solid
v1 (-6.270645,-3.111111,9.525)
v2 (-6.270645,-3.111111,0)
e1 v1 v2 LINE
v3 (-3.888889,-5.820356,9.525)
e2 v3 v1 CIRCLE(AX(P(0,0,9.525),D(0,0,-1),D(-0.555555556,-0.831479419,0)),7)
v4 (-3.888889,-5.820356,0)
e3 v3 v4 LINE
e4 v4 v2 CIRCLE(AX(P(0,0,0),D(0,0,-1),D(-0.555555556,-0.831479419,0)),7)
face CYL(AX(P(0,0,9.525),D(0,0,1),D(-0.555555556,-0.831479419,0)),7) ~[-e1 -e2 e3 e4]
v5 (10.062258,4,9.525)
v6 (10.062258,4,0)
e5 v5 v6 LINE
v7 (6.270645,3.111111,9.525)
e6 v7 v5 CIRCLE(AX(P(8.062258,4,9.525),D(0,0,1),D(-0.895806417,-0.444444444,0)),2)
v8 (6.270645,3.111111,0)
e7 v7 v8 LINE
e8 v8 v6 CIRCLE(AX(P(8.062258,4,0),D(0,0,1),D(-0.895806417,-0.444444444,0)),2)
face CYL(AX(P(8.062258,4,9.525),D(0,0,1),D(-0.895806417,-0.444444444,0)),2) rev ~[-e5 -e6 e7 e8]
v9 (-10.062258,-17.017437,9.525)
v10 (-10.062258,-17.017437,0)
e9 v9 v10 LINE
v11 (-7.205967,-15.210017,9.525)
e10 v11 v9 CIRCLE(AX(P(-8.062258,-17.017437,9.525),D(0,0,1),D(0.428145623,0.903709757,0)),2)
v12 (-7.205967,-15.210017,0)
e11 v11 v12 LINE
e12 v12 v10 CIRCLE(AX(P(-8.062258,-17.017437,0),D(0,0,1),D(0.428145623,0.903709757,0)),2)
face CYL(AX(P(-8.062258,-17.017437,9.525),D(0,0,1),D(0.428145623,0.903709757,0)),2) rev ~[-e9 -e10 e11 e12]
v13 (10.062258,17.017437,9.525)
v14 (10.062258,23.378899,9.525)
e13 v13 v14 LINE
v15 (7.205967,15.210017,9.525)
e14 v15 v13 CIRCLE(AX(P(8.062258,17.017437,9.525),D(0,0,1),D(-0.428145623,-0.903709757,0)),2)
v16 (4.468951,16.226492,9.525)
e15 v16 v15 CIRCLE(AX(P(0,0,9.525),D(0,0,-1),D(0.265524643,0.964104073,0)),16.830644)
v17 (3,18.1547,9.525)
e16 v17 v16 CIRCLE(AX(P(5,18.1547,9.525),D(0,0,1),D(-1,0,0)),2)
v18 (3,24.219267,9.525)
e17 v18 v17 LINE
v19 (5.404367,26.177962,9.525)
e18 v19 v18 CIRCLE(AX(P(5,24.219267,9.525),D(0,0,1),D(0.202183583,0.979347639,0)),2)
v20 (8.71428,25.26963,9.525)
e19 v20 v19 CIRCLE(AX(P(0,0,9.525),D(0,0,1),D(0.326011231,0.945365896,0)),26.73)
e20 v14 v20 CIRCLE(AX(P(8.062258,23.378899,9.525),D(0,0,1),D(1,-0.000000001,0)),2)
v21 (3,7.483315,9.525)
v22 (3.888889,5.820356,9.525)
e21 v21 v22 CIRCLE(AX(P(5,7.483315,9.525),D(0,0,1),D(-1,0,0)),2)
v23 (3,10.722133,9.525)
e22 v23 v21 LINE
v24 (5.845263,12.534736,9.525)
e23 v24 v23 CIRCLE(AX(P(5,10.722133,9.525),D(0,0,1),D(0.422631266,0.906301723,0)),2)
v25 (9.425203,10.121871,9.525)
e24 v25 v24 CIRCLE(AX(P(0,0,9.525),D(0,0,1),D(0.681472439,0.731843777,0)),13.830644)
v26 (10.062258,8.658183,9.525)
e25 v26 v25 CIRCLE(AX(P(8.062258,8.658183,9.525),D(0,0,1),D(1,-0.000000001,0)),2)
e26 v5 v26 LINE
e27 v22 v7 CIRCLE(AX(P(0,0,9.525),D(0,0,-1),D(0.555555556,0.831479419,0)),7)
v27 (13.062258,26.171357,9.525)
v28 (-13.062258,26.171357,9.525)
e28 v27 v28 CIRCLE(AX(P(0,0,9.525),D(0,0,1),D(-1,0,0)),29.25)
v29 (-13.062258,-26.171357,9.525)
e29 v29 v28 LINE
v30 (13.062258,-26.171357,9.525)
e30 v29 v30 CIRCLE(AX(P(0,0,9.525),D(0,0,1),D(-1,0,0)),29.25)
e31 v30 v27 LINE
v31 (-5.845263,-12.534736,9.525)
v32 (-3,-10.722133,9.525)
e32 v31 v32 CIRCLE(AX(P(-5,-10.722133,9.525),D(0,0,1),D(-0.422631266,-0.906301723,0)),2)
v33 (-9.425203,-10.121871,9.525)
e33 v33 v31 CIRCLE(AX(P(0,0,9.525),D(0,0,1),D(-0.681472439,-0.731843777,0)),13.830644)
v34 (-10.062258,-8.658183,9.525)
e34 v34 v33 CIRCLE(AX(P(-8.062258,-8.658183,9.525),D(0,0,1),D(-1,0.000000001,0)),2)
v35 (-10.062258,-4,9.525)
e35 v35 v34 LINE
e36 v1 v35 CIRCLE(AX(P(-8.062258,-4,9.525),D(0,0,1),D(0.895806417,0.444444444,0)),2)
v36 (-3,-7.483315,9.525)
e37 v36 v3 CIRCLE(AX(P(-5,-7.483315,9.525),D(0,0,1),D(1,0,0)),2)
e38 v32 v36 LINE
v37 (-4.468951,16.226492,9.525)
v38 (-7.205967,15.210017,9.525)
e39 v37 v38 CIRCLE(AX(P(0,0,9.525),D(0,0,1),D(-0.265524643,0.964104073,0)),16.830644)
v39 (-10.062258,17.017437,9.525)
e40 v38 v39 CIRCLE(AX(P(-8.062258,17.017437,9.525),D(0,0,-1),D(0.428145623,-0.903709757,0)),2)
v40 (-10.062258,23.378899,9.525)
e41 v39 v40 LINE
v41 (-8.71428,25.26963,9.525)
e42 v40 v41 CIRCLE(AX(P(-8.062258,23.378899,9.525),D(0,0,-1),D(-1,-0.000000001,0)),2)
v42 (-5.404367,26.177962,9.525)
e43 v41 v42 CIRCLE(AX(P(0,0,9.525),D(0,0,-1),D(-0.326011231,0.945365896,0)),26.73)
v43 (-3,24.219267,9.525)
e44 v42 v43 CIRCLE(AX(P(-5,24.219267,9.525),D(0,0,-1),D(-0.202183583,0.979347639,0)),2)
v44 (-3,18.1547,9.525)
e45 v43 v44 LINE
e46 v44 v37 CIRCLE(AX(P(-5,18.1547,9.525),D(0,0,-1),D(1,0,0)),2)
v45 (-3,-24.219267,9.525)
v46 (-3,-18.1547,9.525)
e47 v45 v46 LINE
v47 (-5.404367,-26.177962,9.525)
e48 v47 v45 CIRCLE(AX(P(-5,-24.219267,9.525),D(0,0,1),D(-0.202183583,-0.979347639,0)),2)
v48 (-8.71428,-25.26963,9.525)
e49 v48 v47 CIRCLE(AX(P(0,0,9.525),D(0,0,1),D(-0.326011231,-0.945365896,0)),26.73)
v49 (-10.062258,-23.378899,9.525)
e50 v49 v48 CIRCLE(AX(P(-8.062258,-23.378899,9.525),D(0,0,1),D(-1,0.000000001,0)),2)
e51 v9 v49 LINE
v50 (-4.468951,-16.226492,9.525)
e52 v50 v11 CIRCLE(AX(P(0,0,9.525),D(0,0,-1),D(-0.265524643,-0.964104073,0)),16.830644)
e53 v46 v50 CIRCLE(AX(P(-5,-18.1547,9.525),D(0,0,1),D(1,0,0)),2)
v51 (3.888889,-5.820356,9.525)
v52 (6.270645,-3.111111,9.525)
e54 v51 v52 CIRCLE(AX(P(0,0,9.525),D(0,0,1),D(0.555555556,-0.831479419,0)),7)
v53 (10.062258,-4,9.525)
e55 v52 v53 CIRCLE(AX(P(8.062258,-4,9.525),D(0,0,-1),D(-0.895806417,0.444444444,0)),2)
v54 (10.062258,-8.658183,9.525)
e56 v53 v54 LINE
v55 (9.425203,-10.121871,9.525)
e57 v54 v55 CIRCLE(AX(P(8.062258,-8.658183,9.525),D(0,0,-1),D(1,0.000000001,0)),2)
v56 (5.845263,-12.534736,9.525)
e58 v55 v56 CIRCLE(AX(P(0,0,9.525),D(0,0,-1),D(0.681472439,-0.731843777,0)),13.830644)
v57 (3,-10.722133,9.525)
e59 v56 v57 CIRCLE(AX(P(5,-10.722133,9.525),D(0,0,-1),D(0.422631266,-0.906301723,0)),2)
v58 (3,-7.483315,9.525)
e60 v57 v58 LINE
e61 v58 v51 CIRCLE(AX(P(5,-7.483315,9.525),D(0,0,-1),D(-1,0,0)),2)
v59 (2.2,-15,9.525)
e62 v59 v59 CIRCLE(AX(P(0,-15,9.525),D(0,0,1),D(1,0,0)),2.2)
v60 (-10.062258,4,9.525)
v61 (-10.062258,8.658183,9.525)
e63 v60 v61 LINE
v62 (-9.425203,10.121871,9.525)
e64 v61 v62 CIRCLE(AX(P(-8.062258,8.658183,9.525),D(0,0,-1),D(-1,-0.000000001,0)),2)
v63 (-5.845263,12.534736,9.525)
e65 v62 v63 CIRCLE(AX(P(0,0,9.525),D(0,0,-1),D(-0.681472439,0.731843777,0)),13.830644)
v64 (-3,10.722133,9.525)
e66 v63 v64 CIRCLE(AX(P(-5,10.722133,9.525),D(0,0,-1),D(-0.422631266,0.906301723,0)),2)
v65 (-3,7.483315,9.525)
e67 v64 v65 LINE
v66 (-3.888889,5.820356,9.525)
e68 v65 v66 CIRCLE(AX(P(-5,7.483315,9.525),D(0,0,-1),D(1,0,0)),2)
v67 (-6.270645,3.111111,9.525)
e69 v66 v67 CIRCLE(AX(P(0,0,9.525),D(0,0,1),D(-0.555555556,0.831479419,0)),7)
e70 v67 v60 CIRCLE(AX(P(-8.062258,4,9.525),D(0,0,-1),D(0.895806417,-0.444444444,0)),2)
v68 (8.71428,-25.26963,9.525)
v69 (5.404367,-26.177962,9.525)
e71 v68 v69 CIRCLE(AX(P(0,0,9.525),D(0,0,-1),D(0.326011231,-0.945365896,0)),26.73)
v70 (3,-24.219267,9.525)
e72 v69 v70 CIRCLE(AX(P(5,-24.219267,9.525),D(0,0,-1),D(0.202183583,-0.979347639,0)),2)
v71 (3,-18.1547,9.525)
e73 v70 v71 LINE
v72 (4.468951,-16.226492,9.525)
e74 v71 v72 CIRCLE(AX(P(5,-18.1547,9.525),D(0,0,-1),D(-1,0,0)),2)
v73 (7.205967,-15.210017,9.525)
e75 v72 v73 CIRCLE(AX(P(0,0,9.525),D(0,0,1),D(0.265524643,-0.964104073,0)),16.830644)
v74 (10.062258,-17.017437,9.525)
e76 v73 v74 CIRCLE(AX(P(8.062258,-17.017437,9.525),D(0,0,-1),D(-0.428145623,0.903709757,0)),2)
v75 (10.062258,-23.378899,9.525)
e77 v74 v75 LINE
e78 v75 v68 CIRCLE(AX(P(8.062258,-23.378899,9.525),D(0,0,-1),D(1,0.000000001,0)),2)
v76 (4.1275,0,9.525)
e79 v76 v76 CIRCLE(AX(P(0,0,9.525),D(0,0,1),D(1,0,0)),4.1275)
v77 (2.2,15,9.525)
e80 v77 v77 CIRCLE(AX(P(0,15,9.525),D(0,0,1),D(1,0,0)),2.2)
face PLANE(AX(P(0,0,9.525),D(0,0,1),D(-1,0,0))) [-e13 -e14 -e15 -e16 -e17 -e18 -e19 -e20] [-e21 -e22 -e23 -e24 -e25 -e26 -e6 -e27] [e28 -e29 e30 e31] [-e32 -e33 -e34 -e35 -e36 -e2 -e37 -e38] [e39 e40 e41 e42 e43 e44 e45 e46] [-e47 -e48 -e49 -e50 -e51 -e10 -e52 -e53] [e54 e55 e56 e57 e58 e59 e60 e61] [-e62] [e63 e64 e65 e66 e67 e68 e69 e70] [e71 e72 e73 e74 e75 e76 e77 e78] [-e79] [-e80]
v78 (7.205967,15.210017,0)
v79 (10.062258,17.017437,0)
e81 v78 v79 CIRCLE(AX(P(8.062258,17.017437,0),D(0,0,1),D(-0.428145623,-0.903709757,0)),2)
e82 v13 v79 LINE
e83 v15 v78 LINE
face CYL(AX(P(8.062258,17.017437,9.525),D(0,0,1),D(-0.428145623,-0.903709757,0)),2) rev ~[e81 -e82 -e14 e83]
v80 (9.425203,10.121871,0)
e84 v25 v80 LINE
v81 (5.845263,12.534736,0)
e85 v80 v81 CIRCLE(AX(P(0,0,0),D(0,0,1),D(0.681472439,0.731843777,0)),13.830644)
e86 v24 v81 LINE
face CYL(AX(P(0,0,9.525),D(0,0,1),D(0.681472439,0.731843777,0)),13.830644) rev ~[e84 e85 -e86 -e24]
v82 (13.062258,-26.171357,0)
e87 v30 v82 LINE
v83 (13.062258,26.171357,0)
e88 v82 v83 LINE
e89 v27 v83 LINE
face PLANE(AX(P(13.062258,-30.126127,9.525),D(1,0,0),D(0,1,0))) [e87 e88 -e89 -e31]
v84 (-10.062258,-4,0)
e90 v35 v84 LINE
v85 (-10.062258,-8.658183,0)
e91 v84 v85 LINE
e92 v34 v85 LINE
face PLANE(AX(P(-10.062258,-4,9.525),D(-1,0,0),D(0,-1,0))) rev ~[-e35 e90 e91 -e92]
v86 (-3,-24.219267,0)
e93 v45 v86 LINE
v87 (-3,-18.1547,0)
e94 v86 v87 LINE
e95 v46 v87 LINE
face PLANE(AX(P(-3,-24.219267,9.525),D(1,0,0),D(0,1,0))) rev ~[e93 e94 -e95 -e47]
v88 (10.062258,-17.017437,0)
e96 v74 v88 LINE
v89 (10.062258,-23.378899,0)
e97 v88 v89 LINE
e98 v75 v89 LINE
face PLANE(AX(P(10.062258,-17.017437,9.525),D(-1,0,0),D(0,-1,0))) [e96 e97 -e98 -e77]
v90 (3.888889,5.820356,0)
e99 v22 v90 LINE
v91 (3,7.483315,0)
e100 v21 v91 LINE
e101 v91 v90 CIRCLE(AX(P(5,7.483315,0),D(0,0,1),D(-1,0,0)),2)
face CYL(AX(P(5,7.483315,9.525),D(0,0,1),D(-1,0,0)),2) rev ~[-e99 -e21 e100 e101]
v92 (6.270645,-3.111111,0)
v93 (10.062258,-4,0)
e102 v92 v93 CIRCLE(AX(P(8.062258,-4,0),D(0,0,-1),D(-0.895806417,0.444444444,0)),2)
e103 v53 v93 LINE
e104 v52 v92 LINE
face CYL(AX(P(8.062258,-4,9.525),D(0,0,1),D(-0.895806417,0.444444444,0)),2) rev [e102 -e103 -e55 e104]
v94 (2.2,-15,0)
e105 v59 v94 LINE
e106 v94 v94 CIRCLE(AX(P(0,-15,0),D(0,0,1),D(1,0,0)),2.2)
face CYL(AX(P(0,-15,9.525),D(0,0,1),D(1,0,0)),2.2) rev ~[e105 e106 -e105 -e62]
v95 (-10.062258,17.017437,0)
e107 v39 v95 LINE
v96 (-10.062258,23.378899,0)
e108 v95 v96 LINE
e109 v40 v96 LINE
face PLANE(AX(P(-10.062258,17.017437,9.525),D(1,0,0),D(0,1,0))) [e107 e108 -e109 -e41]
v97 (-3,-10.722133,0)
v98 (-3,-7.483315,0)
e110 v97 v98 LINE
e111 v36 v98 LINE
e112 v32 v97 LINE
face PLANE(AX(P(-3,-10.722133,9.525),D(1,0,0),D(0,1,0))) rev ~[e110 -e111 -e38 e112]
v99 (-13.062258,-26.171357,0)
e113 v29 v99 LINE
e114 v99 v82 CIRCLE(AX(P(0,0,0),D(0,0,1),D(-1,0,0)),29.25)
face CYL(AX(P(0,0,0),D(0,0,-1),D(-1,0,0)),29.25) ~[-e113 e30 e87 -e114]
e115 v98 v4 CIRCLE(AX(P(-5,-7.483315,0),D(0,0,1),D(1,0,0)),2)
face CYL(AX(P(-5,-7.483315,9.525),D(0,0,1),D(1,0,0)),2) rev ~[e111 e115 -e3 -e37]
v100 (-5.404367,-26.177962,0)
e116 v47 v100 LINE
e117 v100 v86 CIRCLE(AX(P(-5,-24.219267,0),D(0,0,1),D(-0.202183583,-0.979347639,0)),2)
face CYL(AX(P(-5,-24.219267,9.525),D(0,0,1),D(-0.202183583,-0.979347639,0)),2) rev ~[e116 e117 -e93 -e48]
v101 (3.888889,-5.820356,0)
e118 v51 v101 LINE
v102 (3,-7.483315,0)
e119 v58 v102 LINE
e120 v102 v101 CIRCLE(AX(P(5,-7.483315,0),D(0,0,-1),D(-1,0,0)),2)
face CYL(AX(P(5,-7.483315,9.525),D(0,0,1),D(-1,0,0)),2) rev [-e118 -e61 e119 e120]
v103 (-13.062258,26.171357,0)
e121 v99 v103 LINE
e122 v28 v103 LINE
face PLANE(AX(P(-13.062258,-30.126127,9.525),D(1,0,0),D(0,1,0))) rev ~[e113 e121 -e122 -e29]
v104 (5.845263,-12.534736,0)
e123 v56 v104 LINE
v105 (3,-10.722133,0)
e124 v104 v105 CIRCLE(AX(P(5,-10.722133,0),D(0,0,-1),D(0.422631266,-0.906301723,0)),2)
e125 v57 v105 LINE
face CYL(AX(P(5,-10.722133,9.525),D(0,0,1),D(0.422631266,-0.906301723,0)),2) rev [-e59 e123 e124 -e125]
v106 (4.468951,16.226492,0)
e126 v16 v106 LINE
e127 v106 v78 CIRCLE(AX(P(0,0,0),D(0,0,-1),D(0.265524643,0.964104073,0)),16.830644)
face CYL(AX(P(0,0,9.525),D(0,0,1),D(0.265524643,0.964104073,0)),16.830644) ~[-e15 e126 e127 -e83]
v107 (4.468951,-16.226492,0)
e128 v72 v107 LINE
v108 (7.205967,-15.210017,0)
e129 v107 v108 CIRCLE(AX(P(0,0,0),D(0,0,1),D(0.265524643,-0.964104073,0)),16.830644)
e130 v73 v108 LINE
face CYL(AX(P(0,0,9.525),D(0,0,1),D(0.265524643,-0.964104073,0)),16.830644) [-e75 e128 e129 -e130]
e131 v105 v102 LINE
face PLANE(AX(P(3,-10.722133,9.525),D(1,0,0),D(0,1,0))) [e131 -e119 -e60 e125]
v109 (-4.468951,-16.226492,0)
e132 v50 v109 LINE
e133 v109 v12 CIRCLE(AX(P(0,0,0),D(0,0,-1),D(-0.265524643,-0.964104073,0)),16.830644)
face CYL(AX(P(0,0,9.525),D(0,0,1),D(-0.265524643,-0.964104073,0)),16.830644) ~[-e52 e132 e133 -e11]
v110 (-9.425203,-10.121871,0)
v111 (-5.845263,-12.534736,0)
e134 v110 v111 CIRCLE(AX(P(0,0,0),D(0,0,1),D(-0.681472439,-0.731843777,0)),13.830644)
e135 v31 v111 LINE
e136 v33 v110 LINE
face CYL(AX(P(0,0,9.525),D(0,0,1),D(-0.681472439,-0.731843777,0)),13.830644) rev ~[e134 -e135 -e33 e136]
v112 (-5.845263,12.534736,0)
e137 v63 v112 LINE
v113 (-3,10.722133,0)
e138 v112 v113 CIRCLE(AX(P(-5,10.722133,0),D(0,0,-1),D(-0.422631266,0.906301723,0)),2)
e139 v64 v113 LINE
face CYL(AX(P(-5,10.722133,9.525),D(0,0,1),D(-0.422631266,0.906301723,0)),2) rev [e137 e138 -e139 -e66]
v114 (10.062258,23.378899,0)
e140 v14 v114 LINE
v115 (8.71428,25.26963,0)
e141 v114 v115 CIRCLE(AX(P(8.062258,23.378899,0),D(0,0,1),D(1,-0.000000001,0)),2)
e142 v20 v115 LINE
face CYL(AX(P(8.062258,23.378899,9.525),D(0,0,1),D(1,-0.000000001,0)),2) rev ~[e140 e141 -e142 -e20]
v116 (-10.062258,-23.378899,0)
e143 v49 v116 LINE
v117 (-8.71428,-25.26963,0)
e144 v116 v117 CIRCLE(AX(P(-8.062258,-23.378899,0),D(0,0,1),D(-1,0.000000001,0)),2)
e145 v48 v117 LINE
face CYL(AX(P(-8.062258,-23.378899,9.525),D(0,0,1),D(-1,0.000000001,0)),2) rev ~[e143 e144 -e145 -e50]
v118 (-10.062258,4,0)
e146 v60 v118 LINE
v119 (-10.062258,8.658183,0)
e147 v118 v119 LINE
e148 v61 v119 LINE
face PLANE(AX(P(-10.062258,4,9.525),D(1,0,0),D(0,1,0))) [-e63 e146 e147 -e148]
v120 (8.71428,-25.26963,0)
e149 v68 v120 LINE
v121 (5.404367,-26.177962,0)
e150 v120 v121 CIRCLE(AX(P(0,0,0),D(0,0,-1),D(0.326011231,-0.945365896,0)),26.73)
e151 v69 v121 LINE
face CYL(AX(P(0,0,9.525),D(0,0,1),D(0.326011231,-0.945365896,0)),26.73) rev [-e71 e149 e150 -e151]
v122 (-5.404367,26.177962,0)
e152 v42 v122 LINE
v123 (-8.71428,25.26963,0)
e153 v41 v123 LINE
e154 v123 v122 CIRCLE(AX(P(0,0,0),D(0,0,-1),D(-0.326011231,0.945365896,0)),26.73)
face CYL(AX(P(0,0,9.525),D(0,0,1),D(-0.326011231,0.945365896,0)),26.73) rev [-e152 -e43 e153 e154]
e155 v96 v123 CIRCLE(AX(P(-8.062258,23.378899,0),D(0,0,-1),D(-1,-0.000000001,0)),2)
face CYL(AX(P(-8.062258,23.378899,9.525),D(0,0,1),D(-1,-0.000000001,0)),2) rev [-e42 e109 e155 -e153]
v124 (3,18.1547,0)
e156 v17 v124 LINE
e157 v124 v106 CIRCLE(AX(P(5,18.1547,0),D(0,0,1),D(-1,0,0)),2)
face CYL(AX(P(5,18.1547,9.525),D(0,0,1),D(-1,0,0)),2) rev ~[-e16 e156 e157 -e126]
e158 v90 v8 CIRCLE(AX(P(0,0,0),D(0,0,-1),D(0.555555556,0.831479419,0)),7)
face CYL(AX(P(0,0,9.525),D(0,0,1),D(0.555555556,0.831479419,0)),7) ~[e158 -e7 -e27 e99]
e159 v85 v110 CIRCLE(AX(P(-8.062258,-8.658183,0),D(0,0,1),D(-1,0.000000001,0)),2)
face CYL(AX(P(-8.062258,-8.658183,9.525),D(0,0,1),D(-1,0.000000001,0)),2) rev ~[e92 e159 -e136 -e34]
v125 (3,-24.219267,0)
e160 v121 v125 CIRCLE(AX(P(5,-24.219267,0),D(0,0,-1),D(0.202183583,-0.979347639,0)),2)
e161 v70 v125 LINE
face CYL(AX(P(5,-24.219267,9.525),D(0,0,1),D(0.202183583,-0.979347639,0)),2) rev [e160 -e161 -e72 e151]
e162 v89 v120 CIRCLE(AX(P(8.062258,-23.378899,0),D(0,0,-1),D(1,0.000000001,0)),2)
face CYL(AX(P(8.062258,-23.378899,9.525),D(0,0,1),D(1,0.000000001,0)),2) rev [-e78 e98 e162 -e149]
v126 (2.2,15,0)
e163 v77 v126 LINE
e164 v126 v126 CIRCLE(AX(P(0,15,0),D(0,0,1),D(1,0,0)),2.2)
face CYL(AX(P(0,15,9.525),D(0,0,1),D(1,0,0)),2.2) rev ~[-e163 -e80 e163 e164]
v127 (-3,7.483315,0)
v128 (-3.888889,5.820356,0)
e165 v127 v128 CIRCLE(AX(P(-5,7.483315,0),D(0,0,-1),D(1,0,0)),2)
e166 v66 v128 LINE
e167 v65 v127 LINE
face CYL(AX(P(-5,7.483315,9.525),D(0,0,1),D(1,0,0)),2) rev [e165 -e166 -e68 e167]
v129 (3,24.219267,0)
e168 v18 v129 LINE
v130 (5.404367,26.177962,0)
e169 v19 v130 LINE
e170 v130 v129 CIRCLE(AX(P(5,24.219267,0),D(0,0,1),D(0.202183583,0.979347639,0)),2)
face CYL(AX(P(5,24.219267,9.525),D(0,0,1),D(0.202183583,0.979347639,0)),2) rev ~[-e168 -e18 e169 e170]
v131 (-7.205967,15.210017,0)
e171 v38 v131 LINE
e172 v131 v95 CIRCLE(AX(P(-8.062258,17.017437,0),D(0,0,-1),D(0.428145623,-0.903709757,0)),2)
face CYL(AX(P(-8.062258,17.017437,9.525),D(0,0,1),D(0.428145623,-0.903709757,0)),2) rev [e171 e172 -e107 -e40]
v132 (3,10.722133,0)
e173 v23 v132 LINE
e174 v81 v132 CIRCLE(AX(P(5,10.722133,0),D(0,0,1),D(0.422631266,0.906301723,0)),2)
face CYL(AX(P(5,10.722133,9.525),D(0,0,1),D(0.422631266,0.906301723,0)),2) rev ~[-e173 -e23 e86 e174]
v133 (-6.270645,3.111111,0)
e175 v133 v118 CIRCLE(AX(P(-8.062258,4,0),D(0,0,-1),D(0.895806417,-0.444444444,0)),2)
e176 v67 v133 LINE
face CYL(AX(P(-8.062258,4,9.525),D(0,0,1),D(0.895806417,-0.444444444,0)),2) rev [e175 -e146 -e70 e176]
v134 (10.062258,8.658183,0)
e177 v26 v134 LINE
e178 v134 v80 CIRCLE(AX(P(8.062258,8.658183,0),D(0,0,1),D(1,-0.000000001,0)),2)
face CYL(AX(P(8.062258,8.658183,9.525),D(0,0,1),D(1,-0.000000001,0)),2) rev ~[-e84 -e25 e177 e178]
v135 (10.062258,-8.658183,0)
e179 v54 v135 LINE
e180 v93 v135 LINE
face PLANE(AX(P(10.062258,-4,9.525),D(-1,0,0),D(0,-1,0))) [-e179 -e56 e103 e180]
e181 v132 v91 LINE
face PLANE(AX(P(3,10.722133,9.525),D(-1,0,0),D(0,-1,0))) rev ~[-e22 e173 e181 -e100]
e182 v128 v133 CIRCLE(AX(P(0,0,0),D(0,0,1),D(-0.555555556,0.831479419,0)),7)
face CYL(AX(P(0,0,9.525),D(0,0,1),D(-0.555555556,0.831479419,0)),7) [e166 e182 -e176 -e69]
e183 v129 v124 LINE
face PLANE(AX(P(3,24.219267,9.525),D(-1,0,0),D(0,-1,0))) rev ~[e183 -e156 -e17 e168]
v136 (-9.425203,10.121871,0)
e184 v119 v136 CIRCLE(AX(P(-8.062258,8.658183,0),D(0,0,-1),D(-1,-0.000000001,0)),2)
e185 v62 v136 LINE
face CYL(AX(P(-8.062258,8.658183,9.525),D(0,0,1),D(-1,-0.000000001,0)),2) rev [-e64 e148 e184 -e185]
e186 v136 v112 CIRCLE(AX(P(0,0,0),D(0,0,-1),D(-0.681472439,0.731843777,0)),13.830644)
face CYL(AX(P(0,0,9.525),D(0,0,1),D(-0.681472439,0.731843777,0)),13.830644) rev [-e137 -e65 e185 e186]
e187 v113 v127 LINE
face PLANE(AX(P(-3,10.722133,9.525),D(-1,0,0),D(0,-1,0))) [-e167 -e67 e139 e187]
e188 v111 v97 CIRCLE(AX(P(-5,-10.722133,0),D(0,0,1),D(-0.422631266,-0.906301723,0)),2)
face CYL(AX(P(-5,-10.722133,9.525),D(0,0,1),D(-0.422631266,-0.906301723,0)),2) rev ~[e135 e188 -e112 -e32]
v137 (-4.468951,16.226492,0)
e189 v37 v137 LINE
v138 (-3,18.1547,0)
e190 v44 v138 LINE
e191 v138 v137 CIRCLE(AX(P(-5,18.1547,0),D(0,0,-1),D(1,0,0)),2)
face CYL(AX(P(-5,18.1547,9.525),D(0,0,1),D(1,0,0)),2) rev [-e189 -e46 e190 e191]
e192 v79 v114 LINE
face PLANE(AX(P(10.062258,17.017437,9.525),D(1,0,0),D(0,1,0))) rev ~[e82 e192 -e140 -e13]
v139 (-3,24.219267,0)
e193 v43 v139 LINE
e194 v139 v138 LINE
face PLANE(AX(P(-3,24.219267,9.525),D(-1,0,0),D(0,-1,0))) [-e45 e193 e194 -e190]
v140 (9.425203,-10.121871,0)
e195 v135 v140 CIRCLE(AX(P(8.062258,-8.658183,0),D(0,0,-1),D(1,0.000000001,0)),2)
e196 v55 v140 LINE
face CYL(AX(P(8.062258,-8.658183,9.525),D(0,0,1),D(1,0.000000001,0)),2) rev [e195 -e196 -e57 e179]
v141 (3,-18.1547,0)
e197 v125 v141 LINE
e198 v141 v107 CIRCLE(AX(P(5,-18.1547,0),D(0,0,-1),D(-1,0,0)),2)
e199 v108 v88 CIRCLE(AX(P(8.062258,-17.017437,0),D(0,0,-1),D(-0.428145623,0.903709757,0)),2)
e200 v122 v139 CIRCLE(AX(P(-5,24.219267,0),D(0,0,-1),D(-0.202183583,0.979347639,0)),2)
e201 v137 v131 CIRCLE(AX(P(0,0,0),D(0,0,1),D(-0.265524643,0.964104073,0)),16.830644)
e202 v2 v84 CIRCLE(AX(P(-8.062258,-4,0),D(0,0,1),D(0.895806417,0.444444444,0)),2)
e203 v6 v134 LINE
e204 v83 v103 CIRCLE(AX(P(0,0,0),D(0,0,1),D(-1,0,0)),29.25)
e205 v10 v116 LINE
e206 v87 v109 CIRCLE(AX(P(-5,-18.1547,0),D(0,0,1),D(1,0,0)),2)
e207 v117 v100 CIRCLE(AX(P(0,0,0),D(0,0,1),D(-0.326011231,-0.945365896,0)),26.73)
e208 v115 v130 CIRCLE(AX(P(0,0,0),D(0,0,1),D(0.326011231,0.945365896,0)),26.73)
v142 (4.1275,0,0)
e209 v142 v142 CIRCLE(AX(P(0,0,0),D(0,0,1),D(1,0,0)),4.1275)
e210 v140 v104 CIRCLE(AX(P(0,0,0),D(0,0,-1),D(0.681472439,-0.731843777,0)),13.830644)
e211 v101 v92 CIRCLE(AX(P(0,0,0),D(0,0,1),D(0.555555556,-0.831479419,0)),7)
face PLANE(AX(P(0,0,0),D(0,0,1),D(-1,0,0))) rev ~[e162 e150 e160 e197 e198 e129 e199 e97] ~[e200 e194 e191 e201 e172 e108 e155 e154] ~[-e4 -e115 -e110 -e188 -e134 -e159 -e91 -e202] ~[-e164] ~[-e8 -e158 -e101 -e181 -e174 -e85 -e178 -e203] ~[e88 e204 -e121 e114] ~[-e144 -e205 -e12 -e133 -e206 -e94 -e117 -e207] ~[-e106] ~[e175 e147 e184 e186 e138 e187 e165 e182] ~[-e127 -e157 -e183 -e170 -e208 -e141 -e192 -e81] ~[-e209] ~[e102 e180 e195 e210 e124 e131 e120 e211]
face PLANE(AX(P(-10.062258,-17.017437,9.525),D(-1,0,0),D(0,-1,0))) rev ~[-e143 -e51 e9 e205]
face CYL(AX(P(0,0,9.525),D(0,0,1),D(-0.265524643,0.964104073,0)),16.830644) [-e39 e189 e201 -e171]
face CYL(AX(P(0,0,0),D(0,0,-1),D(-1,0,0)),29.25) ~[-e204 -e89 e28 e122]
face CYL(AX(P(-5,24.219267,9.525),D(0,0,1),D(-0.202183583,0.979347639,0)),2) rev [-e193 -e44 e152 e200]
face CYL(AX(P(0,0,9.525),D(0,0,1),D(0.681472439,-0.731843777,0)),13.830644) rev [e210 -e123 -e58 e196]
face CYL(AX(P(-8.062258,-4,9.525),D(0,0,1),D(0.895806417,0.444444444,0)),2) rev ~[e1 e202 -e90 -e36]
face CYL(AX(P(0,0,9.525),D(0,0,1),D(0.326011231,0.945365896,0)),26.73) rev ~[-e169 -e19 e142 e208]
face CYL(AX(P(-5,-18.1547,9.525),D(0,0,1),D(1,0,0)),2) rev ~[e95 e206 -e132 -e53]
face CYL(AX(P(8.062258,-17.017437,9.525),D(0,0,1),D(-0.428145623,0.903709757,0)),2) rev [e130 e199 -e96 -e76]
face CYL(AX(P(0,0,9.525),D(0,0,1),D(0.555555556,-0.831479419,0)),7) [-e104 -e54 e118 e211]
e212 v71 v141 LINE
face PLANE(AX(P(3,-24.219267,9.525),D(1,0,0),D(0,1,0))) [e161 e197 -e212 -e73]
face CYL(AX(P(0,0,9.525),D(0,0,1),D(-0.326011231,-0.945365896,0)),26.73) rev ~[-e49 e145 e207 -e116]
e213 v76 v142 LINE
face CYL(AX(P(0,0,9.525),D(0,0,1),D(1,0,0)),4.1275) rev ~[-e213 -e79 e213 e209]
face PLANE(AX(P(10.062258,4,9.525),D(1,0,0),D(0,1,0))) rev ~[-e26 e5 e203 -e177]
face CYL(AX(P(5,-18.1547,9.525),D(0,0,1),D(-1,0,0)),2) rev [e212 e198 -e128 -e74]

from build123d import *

# Parameters (mm, degrees)
SKETCH1_R            = 29.25
EXTRUDE_3_8_DEPTH    = 9.525
CUT_EXTRUDE1_DEPTH   = 9.525
SKETCH3_R            = 2.2
M4_THROUGH_DEPTH     = 9.525
SKETCH4_R            = 4.1275
F_3_8_16_DRILL_DEPTH = 9.525
SKETCH6_W            = 18.02935576
SKETCH6_H            = 57.579918791
CUT_EXTRUDE2_DEPTH   = 9.525


with BuildPart() as part:
    # Sketch1 → 3/8 (new body)
    with BuildSketch(Plane.XY):
        with Locations(Location((0, 0, 0), (0, 0, 180))):
            Circle(SKETCH1_R)
    extrude(amount=EXTRUDE_3_8_DEPTH)

    # Sketch2 → Cut-Extrude1 (cut)
    with BuildSketch(Plane.XY.offset(9.525)):
        with BuildLine():
            Line((-3, 24.219267124), (-3, 18.154700472))
            ThreePointArc((-3, 18.154700472), (-3.409072822, 16.942697702), (-4.468950714, 16.226492325))
            ThreePointArc((-4.468950714, 16.226492325), (-5.859541661, 15.777716729), (-7.205966503, 15.210017108))
            ThreePointArc((-7.205966503, 15.210017108), (-9.131700947, 15.327380042), (-10.062257748, 17.017436623))
            Line((-10.062257748, 17.017436623), (-10.062257748, 23.378898605))
            ThreePointArc((-10.062257748, 23.378898605), (-9.690760884, 24.539922954), (-8.714280211, 25.269630397))
            ThreePointArc((-8.714280211, 25.269630397), (-7.073918129, 25.776977757), (-5.404367165, 26.177962402))
            ThreePointArc((-5.404367165, 26.177962402), (-3.736816389, 25.769869318), (-3, 24.219267124))
        make_face()
        with BuildLine():
            Line((-3, 10.72213294), (-3, 7.483314774))
            ThreePointArc((-3, 7.483314774), (-3.236165793, 6.540505732), (-3.888888889, 5.820355935))
            ThreePointArc((-3.888888889, 5.820355935), (-5.257283867, 4.621792546), (-6.270644915, 3.111111111))
            ThreePointArc((-6.270644915, 3.111111111), (-8.518752181, 2.052793582), (-10.062257748, 4))
            Line((-10.062257748, 4), (-10.062257748, 8.658183111))
            ThreePointArc((-10.062257748, 8.658183111), (-9.896091132, 9.45634044), (-9.425202627, 10.121870666))
            ThreePointArc((-9.425202627, 10.121870666), (-7.729958395, 11.468847089), (-5.845262531, 12.534736386))
            ThreePointArc((-5.845262531, 12.534736386), (-3.925412885, 12.408923541), (-3, 10.72213294))
        make_face()
        with BuildLine():
            Line((3, 10.72213294), (3, 7.483314774))
            ThreePointArc((3, 7.483314774), (3.236165793, 6.540505732), (3.888888889, 5.820355935))
            ThreePointArc((3.888888889, 5.820355935), (5.257283867, 4.621792546), (6.270644915, 3.111111111))
            ThreePointArc((6.270644915, 3.111111111), (8.518752181, 2.052793582), (10.062257748, 4))
            Line((10.062257748, 4), (10.062257748, 8.658183111))
            ThreePointArc((10.062257748, 8.658183111), (9.896091132, 9.45634044), (9.425202627, 10.121870666))
            ThreePointArc((9.425202627, 10.121870666), (7.729958395, 11.468847089), (5.845262531, 12.534736386))
            ThreePointArc((5.845262531, 12.534736386), (3.925412885, 12.408923541), (3, 10.72213294))
        make_face()
        with BuildLine():
            Line((3, 24.219267124), (3, 18.154700472))
            ThreePointArc((3, 18.154700472), (3.409072822, 16.942697702), (4.468950714, 16.226492325))
            ThreePointArc((4.468950714, 16.226492325), (5.859541661, 15.777716729), (7.205966503, 15.210017108))
            ThreePointArc((7.205966503, 15.210017108), (9.131700947, 15.327380042), (10.062257748, 17.017436623))
            Line((10.062257748, 17.017436623), (10.062257748, 23.378898605))
            ThreePointArc((10.062257748, 23.378898605), (9.690760884, 24.539922954), (8.714280211, 25.269630397))
            ThreePointArc((8.714280211, 25.269630397), (7.073918129, 25.776977757), (5.404367165, 26.177962402))
            ThreePointArc((5.404367165, 26.177962402), (3.736816389, 25.769869318), (3, 24.219267124))
        make_face()
        with BuildLine():
            Line((-3, -10.72213294), (-3, -7.483314774))
            ThreePointArc((-3, -7.483314774), (-3.236165793, -6.540505732), (-3.888888889, -5.820355935))
            ThreePointArc((-3.888888889, -5.820355935), (-5.257283867, -4.621792546), (-6.270644915, -3.111111111))
            ThreePointArc((-6.270644915, -3.111111111), (-8.518752181, -2.052793582), (-10.062257748, -4))
            Line((-10.062257748, -4), (-10.062257748, -8.658183111))
            ThreePointArc((-10.062257748, -8.658183111), (-9.896091132, -9.45634044), (-9.425202627, -10.121870666))
            ThreePointArc((-9.425202627, -10.121870666), (-7.729958395, -11.468847089), (-5.845262531, -12.534736386))
            ThreePointArc((-5.845262531, -12.534736386), (-3.925412885, -12.408923541), (-3, -10.72213294))
        make_face()
        with BuildLine():
            Line((3, -10.72213294), (3, -7.483314774))
            ThreePointArc((3, -7.483314774), (3.236165793, -6.540505732), (3.888888889, -5.820355935))
            ThreePointArc((3.888888889, -5.820355935), (5.257283867, -4.621792546), (6.270644915, -3.111111111))
            ThreePointArc((6.270644915, -3.111111111), (8.518752181, -2.052793582), (10.062257748, -4))
            Line((10.062257748, -4), (10.062257748, -8.658183111))
            ThreePointArc((10.062257748, -8.658183111), (9.896091132, -9.45634044), (9.425202627, -10.121870666))
            ThreePointArc((9.425202627, -10.121870666), (7.729958395, -11.468847089), (5.845262531, -12.534736386))
            ThreePointArc((5.845262531, -12.534736386), (3.925412885, -12.408923541), (3, -10.72213294))
        make_face()
        with BuildLine():
            Line((3, -24.219267124), (3, -18.154700472))
            ThreePointArc((3, -18.154700472), (3.409072822, -16.942697702), (4.468950714, -16.226492325))
            ThreePointArc((4.468950714, -16.226492325), (5.859541661, -15.777716729), (7.205966503, -15.210017108))
            ThreePointArc((7.205966503, -15.210017108), (9.131700947, -15.327380042), (10.062257748, -17.017436623))
            Line((10.062257748, -17.017436623), (10.062257748, -23.378898605))
            ThreePointArc((10.062257748, -23.378898605), (9.690760884, -24.539922954), (8.714280211, -25.269630397))
            ThreePointArc((8.714280211, -25.269630397), (7.073918129, -25.776977757), (5.404367165, -26.177962402))
            ThreePointArc((5.404367165, -26.177962402), (3.736816389, -25.769869318), (3, -24.219267124))
        make_face()
        with BuildLine():
            Line((-3, -24.219267124), (-3, -18.154700472))
            ThreePointArc((-3, -18.154700472), (-3.409072822, -16.942697702), (-4.468950714, -16.226492325))
            ThreePointArc((-4.468950714, -16.226492325), (-5.859541661, -15.777716729), (-7.205966503, -15.210017108))
            ThreePointArc((-7.205966503, -15.210017108), (-9.131700947, -15.327380042), (-10.062257748, -17.017436623))
            Line((-10.062257748, -17.017436623), (-10.062257748, -23.378898605))
            ThreePointArc((-10.062257748, -23.378898605), (-9.690760884, -24.539922954), (-8.714280211, -25.269630397))
            ThreePointArc((-8.714280211, -25.269630397), (-7.073918129, -25.776977757), (-5.404367165, -26.177962402))
            ThreePointArc((-5.404367165, -26.177962402), (-3.736816389, -25.769869318), (-3, -24.219267124))
        make_face()
    extrude(amount=-CUT_EXTRUDE1_DEPTH, mode=Mode.SUBTRACT)

    # Sketch3 → M4_through (cut)
    with BuildSketch(Plane.XY.offset(9.525)):
        with Locations((0, 15)):
            Circle(SKETCH3_R)
        with Locations((0, -15)):
            Circle(SKETCH3_R)
    extrude(amount=-M4_THROUGH_DEPTH, mode=Mode.SUBTRACT)

    # Sketch4 → 3/8_-16-DRILL (cut)
    with BuildSketch(Plane.XY.offset(9.525)):
        Circle(SKETCH4_R)
    extrude(amount=-F_3_8_16_DRILL_DEPTH, mode=Mode.SUBTRACT)

    # Sketch6 → Cut-Extrude2 (cut)
    with BuildSketch(Plane.XY.offset(9.525)):
        with Locations((-22.076935628, -1.336167669)):
            Rectangle(SKETCH6_W, SKETCH6_H)
        with Locations((22.076935628, -1.336167669)):
            Rectangle(SKETCH6_W, SKETCH6_H)
    extrude(amount=-CUT_EXTRUDE2_DEPTH, mode=Mode.SUBTRACT)


solid = part.part
